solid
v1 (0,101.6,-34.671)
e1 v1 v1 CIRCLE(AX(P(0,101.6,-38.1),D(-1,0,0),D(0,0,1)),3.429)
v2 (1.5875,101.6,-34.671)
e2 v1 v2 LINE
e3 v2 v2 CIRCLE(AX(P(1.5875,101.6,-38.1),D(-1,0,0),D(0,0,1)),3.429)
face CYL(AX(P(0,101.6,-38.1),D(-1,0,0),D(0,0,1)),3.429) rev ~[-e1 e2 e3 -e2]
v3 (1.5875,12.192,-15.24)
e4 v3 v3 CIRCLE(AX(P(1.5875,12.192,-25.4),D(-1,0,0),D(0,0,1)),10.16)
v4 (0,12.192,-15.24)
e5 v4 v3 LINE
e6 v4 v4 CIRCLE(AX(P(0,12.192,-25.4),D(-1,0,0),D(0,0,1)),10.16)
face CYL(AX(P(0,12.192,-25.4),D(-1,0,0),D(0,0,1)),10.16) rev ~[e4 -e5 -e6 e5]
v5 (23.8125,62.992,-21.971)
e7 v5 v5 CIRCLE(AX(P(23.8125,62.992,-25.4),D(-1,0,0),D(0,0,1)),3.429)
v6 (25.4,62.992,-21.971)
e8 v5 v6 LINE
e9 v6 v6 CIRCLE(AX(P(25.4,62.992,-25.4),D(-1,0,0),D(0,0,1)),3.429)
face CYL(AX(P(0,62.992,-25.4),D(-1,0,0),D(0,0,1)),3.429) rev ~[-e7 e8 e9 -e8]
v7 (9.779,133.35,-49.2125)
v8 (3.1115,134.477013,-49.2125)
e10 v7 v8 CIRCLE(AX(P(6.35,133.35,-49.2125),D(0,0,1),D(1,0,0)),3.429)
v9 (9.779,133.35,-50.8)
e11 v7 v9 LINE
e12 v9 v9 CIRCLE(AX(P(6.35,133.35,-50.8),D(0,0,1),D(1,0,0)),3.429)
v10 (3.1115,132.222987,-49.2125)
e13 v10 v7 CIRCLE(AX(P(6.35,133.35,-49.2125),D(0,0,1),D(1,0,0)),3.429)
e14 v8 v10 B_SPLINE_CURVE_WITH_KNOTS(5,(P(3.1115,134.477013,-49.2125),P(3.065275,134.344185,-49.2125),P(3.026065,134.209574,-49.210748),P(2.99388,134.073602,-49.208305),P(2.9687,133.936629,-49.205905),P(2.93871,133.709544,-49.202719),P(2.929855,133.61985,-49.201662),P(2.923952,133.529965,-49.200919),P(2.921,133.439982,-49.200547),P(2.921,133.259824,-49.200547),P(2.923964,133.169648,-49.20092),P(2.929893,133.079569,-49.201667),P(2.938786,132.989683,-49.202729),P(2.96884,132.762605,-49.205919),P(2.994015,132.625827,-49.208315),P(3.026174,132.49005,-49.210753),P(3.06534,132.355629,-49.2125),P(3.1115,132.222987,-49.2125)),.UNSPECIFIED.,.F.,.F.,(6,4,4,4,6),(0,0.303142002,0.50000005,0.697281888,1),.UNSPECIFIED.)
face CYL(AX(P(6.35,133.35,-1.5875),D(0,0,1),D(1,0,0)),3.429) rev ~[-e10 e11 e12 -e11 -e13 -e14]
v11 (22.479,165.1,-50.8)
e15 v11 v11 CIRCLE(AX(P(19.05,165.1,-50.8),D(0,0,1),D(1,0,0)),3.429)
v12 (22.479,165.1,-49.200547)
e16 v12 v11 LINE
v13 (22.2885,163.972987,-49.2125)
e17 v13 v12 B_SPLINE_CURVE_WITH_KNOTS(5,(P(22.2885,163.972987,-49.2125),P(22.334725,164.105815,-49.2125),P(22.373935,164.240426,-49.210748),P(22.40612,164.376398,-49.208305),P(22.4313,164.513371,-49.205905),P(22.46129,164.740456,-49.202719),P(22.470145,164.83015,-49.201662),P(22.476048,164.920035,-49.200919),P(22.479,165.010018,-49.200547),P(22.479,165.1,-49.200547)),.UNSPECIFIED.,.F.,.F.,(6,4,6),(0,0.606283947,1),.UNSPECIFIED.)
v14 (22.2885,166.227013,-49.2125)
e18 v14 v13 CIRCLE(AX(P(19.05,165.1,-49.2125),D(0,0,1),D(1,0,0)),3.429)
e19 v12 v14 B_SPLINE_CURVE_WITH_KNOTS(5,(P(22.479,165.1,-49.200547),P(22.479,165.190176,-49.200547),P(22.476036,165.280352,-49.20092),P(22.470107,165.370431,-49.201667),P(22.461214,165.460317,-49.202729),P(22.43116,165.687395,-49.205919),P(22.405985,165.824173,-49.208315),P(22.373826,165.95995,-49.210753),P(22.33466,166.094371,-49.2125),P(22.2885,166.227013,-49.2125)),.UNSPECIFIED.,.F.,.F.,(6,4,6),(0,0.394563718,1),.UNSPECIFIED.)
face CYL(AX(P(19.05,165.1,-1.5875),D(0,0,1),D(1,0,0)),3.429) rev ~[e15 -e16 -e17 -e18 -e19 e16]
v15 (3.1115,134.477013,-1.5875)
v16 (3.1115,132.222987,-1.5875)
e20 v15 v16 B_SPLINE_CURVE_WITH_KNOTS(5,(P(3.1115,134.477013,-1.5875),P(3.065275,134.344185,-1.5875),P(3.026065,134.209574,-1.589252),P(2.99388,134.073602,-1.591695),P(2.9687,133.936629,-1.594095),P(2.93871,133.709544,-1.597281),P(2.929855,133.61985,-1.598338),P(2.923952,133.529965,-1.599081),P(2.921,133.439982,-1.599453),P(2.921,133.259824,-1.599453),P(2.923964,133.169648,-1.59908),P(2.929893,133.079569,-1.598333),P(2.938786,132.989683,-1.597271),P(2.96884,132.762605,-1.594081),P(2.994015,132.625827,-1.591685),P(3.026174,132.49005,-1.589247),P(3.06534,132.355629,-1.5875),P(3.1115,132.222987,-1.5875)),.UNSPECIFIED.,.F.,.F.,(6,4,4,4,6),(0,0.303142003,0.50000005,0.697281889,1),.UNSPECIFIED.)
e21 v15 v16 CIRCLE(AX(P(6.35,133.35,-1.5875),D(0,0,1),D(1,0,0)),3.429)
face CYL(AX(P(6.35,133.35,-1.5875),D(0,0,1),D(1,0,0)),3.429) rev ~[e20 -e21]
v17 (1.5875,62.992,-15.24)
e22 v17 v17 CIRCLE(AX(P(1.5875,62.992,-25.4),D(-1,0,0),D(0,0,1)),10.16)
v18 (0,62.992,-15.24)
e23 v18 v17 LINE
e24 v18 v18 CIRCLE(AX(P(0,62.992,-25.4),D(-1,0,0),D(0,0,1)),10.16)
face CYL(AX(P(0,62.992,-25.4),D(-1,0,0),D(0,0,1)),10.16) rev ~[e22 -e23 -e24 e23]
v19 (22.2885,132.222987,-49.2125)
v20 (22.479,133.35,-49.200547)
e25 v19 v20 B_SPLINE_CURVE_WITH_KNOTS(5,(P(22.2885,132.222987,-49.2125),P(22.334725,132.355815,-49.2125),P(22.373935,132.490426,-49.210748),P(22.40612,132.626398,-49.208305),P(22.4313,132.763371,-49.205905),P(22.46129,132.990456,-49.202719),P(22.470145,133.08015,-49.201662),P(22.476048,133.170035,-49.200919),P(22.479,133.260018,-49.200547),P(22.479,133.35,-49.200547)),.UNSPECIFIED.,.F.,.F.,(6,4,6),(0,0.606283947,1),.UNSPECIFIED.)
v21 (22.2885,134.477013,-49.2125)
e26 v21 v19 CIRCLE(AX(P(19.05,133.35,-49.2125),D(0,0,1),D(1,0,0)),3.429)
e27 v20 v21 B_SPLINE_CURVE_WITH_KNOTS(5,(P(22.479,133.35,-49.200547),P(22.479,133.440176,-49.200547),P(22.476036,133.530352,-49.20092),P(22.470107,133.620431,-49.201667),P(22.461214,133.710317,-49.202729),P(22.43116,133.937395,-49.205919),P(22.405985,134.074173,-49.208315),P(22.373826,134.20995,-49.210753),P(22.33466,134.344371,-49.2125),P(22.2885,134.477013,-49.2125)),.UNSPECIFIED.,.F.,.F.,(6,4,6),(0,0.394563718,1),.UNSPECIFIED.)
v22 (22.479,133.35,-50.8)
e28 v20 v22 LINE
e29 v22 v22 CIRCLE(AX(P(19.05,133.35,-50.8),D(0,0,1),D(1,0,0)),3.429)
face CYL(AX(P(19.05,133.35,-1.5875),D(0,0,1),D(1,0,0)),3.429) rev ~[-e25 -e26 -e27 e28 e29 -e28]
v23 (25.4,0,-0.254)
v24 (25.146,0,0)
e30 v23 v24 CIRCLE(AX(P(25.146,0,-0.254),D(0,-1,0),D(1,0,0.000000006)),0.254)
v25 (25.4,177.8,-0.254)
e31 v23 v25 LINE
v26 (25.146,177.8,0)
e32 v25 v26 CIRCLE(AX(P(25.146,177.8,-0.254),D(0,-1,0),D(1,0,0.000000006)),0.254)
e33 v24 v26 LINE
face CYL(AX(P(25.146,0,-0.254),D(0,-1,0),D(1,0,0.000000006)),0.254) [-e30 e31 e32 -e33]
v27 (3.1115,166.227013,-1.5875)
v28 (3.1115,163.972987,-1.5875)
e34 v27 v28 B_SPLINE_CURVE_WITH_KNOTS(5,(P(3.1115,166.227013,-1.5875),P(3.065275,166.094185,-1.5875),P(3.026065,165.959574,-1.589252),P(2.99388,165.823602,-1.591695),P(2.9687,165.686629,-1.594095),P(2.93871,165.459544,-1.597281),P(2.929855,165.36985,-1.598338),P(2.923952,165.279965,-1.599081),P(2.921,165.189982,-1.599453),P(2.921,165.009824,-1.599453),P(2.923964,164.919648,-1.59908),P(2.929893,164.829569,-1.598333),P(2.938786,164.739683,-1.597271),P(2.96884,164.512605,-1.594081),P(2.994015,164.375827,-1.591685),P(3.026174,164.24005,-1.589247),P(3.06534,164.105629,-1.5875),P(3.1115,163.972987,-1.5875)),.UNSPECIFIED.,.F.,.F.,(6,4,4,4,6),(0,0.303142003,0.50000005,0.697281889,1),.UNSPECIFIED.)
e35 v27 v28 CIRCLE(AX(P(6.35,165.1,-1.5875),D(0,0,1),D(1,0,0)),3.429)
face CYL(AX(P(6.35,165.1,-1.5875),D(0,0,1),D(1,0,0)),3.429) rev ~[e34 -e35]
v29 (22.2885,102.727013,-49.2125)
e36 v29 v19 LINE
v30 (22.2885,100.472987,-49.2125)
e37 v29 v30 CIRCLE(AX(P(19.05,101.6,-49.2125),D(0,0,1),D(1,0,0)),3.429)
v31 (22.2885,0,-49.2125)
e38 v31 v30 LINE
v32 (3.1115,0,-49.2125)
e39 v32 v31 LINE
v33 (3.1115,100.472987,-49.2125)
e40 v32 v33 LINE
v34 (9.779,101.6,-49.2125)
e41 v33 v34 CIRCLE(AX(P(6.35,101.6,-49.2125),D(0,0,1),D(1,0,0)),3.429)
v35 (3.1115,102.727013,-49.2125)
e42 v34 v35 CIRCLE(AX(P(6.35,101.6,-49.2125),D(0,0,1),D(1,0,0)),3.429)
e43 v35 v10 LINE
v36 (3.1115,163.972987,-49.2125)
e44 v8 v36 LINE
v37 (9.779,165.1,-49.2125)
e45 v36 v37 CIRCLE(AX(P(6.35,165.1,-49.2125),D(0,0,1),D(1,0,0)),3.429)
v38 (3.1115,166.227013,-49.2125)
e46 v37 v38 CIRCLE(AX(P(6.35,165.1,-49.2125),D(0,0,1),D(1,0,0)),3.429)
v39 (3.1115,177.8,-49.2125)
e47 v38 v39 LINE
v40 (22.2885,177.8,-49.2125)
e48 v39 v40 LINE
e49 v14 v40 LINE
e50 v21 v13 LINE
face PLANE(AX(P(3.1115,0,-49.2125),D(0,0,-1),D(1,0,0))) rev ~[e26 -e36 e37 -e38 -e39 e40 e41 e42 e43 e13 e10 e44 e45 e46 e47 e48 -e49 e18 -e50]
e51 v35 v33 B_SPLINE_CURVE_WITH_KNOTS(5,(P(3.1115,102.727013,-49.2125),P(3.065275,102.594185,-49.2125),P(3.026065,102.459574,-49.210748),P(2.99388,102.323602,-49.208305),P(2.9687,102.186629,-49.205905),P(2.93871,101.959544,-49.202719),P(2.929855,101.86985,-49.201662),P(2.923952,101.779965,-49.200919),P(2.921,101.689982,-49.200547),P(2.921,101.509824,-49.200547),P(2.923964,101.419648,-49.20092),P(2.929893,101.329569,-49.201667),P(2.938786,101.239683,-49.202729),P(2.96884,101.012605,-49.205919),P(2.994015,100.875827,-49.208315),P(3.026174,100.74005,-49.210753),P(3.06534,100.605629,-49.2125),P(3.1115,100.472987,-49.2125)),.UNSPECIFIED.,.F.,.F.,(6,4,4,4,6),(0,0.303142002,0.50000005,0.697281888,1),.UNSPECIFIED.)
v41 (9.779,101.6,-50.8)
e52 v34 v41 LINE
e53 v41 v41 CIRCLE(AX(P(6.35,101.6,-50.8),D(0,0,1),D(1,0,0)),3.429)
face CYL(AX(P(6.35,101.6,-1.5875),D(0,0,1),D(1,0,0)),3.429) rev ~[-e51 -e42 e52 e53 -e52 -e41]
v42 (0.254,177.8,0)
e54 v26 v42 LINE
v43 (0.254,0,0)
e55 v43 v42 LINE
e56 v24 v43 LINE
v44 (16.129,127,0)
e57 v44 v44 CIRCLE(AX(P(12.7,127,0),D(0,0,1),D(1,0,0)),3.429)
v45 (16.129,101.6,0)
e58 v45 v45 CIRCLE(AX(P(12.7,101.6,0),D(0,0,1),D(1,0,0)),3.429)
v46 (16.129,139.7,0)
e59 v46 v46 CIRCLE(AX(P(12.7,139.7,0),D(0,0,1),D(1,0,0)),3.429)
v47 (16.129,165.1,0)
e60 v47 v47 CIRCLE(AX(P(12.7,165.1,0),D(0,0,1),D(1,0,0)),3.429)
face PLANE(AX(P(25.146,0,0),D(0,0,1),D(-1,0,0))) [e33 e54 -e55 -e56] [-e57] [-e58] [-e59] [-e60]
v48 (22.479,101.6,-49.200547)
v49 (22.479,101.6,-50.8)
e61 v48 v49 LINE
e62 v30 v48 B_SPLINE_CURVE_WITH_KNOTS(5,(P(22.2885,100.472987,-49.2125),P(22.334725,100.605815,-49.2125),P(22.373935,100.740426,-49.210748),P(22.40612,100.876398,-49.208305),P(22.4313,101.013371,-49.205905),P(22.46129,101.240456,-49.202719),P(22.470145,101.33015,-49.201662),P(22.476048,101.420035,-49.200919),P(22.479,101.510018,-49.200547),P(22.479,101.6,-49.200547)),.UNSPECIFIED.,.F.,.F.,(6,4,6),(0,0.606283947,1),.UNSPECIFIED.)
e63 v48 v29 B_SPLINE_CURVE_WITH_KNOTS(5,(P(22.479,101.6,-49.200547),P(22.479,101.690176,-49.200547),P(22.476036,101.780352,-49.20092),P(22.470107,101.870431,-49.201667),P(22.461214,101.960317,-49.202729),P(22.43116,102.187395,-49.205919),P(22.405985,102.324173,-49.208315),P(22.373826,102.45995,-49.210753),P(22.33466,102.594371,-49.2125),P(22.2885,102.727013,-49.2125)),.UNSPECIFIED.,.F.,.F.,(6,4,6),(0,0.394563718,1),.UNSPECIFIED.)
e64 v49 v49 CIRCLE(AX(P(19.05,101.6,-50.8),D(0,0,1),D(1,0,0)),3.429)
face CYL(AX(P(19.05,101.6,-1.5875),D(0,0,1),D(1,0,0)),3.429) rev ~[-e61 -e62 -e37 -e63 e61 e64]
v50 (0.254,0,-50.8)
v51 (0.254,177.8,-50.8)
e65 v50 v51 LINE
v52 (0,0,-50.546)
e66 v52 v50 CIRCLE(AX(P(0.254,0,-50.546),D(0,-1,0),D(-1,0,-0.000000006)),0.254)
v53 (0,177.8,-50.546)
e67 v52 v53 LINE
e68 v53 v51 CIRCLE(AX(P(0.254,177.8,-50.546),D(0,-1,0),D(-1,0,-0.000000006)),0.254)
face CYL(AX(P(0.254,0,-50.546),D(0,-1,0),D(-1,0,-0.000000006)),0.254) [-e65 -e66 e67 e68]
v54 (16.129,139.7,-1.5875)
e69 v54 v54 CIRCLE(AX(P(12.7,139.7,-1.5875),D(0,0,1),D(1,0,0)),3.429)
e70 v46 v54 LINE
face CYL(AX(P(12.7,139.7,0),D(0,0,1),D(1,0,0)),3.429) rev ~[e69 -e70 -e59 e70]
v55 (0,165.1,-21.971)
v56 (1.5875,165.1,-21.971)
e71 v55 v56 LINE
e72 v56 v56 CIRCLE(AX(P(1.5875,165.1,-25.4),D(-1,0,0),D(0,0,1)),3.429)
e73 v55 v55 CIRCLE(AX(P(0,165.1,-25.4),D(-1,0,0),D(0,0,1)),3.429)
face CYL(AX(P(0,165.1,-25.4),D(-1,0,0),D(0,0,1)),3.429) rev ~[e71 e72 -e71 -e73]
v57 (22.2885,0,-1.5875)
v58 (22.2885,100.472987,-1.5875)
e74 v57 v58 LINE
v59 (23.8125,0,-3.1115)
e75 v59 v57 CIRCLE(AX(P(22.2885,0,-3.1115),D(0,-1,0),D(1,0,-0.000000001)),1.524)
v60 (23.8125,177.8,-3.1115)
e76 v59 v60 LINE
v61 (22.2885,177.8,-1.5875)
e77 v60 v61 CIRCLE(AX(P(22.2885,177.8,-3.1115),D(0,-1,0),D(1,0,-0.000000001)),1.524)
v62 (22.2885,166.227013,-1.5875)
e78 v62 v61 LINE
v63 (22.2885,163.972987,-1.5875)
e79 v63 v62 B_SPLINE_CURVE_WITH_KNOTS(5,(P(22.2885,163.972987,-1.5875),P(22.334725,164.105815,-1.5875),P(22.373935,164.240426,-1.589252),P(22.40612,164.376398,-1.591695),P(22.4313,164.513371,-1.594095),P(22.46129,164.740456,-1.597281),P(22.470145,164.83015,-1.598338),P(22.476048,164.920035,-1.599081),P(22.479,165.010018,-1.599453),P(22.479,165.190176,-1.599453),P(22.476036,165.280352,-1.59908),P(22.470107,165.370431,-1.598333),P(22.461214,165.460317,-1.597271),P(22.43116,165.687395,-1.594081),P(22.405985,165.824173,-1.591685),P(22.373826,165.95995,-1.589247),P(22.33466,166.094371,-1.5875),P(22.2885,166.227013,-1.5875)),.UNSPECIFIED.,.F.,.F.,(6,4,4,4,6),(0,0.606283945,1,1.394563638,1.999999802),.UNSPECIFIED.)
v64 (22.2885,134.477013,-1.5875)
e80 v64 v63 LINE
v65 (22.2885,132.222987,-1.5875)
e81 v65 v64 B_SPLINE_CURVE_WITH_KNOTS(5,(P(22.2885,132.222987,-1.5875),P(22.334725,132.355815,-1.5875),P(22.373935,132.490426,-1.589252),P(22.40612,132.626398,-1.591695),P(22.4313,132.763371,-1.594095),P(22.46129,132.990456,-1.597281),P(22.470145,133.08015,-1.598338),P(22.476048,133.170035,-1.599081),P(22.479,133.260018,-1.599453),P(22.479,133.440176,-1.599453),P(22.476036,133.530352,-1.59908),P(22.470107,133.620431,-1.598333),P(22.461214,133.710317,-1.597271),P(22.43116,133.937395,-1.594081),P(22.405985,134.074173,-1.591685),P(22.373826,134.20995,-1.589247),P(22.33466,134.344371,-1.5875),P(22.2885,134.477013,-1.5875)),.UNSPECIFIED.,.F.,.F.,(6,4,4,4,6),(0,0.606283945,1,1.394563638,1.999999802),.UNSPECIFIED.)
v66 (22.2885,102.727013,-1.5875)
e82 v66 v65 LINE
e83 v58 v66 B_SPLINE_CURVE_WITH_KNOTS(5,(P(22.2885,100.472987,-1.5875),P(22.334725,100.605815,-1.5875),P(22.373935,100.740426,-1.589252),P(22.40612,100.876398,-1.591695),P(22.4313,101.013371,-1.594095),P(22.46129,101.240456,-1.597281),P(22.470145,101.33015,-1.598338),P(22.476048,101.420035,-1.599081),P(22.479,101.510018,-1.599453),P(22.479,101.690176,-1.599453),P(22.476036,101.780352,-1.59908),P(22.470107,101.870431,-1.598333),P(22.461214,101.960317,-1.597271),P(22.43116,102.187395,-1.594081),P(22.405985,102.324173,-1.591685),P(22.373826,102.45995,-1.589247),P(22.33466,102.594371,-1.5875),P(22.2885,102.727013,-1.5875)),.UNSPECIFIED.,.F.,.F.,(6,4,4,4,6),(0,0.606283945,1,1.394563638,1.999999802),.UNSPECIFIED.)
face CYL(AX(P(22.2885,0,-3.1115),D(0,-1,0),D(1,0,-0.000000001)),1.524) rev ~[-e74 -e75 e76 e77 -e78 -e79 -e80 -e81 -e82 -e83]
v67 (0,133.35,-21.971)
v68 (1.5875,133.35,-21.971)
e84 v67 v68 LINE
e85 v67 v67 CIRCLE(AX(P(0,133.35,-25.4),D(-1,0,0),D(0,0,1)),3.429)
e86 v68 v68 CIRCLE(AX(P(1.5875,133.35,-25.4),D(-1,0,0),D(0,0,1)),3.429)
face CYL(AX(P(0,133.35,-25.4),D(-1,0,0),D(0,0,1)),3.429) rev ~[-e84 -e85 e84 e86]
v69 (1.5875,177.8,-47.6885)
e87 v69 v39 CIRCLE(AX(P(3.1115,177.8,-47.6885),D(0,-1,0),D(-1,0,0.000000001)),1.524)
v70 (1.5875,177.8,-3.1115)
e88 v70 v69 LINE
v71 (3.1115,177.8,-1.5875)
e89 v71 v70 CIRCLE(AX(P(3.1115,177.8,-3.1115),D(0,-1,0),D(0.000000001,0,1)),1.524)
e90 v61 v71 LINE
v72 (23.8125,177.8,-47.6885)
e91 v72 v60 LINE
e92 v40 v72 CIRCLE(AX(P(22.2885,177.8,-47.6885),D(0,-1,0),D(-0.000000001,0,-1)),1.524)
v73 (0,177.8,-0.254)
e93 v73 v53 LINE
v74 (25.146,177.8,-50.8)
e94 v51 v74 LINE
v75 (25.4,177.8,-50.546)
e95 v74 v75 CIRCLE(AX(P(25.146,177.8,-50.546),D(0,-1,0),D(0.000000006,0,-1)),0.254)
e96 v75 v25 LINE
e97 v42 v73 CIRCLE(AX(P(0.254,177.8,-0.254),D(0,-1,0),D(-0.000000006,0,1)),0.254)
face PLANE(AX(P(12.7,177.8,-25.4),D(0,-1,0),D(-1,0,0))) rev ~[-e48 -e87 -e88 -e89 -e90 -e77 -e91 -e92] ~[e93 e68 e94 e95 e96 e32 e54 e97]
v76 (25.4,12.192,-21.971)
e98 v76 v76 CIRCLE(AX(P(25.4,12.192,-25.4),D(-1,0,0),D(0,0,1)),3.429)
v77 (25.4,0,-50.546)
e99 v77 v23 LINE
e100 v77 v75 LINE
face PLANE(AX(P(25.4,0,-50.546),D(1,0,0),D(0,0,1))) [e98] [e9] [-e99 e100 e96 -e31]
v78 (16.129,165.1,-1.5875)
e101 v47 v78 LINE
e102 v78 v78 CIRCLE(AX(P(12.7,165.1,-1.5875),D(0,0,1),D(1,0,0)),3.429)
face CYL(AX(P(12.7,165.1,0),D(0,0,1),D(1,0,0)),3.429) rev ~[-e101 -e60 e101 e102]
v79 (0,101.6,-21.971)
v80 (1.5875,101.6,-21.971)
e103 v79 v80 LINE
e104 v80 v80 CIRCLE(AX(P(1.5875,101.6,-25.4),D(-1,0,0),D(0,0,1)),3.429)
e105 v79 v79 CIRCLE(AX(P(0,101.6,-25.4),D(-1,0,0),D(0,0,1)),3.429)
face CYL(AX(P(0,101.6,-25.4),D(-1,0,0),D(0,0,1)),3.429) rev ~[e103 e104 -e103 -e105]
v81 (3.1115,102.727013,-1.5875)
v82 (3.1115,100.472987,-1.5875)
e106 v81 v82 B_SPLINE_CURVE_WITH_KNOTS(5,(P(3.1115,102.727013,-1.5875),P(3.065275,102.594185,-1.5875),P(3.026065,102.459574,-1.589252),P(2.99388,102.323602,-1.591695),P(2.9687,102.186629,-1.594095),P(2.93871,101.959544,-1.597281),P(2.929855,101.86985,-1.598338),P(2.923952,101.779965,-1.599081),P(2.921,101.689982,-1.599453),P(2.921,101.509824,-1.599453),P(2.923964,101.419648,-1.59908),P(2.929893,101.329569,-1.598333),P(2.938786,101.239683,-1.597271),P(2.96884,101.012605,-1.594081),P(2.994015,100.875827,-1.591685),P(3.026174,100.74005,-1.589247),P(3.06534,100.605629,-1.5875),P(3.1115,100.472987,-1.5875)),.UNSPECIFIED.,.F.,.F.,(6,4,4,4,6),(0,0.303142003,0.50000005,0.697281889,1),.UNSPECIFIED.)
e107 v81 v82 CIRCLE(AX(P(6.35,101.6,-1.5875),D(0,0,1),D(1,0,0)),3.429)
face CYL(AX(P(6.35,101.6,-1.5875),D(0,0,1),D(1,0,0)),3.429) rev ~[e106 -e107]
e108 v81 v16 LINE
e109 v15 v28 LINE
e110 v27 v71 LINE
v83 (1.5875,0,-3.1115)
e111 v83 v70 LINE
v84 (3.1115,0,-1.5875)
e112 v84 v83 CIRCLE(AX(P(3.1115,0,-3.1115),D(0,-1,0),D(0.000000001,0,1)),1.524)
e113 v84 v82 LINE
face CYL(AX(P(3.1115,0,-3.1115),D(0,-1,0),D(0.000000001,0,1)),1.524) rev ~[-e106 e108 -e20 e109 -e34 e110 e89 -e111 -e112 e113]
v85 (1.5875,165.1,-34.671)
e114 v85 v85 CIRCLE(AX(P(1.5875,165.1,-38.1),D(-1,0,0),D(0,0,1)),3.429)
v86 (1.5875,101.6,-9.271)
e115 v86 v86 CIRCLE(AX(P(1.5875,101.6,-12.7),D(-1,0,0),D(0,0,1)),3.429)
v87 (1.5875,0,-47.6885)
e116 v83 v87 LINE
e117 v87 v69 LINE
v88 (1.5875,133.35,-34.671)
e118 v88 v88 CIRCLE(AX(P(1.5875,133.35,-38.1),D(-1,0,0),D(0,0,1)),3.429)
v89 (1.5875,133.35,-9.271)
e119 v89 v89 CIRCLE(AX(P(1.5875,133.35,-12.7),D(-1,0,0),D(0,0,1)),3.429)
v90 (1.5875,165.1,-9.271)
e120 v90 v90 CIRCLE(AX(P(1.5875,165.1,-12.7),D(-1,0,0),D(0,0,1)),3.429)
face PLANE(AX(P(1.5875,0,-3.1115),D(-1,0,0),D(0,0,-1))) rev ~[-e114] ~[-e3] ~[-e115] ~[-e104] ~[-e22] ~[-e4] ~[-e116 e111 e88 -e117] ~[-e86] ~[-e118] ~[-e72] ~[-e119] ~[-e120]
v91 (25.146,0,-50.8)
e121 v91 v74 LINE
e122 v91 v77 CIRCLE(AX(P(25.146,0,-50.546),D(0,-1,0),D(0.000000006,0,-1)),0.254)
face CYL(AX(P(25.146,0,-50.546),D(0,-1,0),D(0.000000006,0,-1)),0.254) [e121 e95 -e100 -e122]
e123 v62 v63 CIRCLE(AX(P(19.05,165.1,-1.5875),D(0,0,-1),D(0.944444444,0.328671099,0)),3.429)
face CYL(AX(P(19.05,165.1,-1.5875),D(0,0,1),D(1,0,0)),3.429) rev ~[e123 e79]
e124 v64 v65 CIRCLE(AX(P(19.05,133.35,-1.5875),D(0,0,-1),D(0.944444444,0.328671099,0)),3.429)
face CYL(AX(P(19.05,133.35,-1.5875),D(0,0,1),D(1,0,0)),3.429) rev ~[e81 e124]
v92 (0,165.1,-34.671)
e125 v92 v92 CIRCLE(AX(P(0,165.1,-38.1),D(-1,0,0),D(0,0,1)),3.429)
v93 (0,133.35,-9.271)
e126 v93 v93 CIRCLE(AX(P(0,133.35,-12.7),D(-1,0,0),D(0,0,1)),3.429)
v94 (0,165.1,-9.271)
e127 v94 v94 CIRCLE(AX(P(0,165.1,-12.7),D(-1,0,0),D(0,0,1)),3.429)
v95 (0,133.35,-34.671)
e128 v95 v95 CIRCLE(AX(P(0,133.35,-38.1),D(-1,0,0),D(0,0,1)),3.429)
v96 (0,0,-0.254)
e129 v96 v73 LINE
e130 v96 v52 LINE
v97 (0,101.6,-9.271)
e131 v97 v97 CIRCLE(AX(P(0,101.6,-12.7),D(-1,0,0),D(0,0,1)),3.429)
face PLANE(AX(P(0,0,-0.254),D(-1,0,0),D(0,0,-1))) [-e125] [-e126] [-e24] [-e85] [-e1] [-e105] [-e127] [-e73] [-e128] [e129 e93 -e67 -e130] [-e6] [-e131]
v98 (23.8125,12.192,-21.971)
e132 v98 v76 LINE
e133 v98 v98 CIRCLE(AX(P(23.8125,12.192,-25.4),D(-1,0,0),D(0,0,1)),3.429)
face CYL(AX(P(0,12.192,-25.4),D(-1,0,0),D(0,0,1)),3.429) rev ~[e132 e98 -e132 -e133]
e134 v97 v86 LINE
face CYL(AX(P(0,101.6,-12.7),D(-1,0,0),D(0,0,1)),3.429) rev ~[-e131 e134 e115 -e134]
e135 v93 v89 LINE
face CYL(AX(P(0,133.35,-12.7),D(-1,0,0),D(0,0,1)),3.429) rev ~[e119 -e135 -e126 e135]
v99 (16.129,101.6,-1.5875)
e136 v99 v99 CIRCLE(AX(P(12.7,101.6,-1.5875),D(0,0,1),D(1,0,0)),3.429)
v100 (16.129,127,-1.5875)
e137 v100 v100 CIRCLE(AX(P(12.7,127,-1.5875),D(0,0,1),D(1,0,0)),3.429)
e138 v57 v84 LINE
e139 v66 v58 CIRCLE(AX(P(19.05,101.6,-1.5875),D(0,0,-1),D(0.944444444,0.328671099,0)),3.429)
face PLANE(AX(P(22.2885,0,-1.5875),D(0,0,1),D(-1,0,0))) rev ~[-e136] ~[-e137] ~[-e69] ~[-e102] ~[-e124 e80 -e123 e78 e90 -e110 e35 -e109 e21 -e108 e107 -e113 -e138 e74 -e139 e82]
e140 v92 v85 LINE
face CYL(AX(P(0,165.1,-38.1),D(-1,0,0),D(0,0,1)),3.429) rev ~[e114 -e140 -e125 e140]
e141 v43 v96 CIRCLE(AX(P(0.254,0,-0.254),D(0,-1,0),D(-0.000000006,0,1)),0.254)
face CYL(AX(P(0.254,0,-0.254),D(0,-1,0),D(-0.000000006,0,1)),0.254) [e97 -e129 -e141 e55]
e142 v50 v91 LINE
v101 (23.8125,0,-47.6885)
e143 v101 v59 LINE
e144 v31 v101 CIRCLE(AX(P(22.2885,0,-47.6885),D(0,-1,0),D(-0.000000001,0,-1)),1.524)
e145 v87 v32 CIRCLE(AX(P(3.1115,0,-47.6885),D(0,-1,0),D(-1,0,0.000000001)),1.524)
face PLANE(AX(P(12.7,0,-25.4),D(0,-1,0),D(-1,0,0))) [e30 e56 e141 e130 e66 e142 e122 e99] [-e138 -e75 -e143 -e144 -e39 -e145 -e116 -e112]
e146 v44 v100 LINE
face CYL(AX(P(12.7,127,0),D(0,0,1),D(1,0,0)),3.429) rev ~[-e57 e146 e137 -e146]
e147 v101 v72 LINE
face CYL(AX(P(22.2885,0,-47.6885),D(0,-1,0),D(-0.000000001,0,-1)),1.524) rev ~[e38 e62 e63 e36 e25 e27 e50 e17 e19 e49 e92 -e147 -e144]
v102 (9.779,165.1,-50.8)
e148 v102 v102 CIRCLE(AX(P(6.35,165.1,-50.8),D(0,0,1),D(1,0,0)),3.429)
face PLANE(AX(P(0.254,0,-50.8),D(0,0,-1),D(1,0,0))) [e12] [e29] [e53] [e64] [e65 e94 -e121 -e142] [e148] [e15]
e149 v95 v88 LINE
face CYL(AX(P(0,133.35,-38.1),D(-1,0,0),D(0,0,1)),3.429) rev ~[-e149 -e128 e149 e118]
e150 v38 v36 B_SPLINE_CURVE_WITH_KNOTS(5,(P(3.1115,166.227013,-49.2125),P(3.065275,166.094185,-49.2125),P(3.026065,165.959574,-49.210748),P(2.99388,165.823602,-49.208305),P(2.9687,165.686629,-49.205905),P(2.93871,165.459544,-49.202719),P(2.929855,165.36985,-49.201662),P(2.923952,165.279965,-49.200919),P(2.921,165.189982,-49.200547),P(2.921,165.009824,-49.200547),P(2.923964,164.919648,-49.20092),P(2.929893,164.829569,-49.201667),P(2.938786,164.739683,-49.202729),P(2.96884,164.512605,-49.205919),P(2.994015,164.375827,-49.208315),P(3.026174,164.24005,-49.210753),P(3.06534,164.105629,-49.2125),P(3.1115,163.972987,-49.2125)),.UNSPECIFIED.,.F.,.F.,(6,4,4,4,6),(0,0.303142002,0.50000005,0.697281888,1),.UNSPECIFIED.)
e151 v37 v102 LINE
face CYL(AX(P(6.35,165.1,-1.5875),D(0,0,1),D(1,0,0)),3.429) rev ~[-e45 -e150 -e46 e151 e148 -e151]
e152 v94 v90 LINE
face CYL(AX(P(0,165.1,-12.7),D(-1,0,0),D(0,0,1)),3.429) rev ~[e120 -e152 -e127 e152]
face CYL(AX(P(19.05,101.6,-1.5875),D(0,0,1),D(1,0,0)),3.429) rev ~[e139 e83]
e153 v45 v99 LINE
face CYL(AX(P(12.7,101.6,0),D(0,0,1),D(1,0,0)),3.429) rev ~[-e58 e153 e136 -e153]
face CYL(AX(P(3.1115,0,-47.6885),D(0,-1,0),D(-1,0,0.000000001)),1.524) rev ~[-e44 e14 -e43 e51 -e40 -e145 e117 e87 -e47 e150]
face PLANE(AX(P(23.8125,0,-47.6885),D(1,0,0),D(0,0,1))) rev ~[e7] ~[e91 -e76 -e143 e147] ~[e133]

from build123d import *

# Parameters (mm, degrees)
BOSS_EXTRUDE1_DEPTH = 177.8
SKETCH2_R           = 10.16
SKETCH2_R_2         = 3.429
CUT_EXTRUDE1_DEPTH  = 12.7
SKETCH2_3_R         = 3.429
CUT_EXTRUDE2_DEPTH  = 26.4
CUT_EXTRUDE3_START  = -1.5875
SKETCH3_R           = 3.429
CUT_EXTRUDE3_DEPTH  = 50.2125
SKETCH4_R           = 3.429
CUT_EXTRUDE4_DEPTH  = 2.54


with BuildPart() as part:
    # Sketch1 → Boss-Extrude1 (new body)
    with BuildSketch(Plane(origin=(0, 0, 0), x_dir=(1, 0, 0), z_dir=(0, 1, 0))):
        with BuildLine():
            Line((0.254, 50.8), (25.146, 50.8))
            ThreePointArc((25.146, 50.8), (25.325605122, 50.725605122), (25.4, 50.546))
            Line((25.4, 50.546), (25.4, 0.254))
            ThreePointArc((25.4, 0.254), (25.325605122, 0.074394878), (25.146, 0))
            Line((25.146, 0), (0.254, 0))
            ThreePointArc((0.254, 0), (0.074394878, 0.074394878), (0, 0.254))
            Line((0, 0.254), (0, 50.546))
            ThreePointArc((0, 50.546), (0.074394878, 50.725605122), (0.254, 50.8))
        make_face()
        with BuildLine():
            Line((1.5875, 3.1115), (1.5875, 47.6885))
            ThreePointArc((1.5875, 47.6885), (2.033869265, 48.766130735), (3.1115, 49.2125))
            Line((3.1115, 49.2125), (22.2885, 49.2125))
            ThreePointArc((22.2885, 49.2125), (23.366130735, 48.766130735), (23.8125, 47.6885))
            Line((23.8125, 47.6885), (23.8125, 3.1115))
            ThreePointArc((23.8125, 3.1115), (23.366130735, 2.033869265), (22.2885, 1.5875))
            Line((22.2885, 1.5875), (3.1115, 1.5875))
            ThreePointArc((3.1115, 1.5875), (2.033869265, 2.033869265), (1.5875, 3.1115))
        make_face(mode=Mode.SUBTRACT)
    extrude(amount=BOSS_EXTRUDE1_DEPTH)

    # Sketch2 → Cut-Extrude1 (cut)
    with BuildSketch(Plane.ZY):
        with Locations((-25.4, 12.192)):
            Circle(SKETCH2_R)
        with Locations((-25.4, 12.192)):
            Circle(SKETCH2_R_2, mode=Mode.SUBTRACT)
        with Locations((-25.4, 62.992)):
            Circle(SKETCH2_R)
        with Locations((-25.4, 62.992)):
            Circle(SKETCH2_R_2, mode=Mode.SUBTRACT)
        with Locations((-38.1, 165.1)):
            Circle(SKETCH2_R_2)
        with Locations((-25.4, 165.1)):
            Circle(SKETCH2_R_2)
        with Locations((-12.7, 165.1)):
            Circle(SKETCH2_R_2)
        with Locations((-25.4, 133.35)):
            Circle(SKETCH2_R_2)
        with Locations((-12.7, 133.35)):
            Circle(SKETCH2_R_2)
        with Locations((-25.4, 101.6)):
            Circle(SKETCH2_R_2)
        with Locations((-12.7, 101.6)):
            Circle(SKETCH2_R_2)
        with Locations((-38.1, 133.35)):
            Circle(SKETCH2_R_2)
        with Locations((-38.1, 101.6)):
            Circle(SKETCH2_R_2)
    extrude(amount=-CUT_EXTRUDE1_DEPTH, mode=Mode.SUBTRACT)

    # Sketch2<3> → Cut-Extrude2 (cut, through all)
    with BuildSketch(Plane.ZY):
        with Locations((-25.4, 12.192)):
            Circle(SKETCH2_3_R)
        with Locations((-25.4, 62.992)):
            Circle(SKETCH2_3_R)
    extrude(amount=-CUT_EXTRUDE2_DEPTH, mode=Mode.SUBTRACT)

    # Sketch3 → Cut-Extrude3 (cut, through all)
    with BuildSketch(Plane.XY.offset(CUT_EXTRUDE3_START)):
        with Locations((19.05, 165.1)):
            Circle(SKETCH3_R)
        with Locations((6.35, 165.1)):
            Circle(SKETCH3_R)
        with Locations((6.35, 133.35)):
            Circle(SKETCH3_R)
        with Locations((6.35, 101.6)):
            Circle(SKETCH3_R)
        with Locations((19.05, 133.35)):
            Circle(SKETCH3_R)
        with Locations((19.05, 101.6)):
            Circle(SKETCH3_R)
    extrude(amount=-CUT_EXTRUDE3_DEPTH, mode=Mode.SUBTRACT)

    # Sketch4 → Cut-Extrude4 (cut)
    with BuildSketch(Plane.XY):
        with Locations((12.7, 165.1)):
            Circle(SKETCH4_R)
        with Locations((12.7, 139.7)):
            Circle(SKETCH4_R)
        with Locations((12.7, 101.6)):
            Circle(SKETCH4_R)
        with Locations((12.7, 127)):
            Circle(SKETCH4_R)
    extrude(amount=-CUT_EXTRUDE4_DEPTH, mode=Mode.SUBTRACT)


solid = part.part
